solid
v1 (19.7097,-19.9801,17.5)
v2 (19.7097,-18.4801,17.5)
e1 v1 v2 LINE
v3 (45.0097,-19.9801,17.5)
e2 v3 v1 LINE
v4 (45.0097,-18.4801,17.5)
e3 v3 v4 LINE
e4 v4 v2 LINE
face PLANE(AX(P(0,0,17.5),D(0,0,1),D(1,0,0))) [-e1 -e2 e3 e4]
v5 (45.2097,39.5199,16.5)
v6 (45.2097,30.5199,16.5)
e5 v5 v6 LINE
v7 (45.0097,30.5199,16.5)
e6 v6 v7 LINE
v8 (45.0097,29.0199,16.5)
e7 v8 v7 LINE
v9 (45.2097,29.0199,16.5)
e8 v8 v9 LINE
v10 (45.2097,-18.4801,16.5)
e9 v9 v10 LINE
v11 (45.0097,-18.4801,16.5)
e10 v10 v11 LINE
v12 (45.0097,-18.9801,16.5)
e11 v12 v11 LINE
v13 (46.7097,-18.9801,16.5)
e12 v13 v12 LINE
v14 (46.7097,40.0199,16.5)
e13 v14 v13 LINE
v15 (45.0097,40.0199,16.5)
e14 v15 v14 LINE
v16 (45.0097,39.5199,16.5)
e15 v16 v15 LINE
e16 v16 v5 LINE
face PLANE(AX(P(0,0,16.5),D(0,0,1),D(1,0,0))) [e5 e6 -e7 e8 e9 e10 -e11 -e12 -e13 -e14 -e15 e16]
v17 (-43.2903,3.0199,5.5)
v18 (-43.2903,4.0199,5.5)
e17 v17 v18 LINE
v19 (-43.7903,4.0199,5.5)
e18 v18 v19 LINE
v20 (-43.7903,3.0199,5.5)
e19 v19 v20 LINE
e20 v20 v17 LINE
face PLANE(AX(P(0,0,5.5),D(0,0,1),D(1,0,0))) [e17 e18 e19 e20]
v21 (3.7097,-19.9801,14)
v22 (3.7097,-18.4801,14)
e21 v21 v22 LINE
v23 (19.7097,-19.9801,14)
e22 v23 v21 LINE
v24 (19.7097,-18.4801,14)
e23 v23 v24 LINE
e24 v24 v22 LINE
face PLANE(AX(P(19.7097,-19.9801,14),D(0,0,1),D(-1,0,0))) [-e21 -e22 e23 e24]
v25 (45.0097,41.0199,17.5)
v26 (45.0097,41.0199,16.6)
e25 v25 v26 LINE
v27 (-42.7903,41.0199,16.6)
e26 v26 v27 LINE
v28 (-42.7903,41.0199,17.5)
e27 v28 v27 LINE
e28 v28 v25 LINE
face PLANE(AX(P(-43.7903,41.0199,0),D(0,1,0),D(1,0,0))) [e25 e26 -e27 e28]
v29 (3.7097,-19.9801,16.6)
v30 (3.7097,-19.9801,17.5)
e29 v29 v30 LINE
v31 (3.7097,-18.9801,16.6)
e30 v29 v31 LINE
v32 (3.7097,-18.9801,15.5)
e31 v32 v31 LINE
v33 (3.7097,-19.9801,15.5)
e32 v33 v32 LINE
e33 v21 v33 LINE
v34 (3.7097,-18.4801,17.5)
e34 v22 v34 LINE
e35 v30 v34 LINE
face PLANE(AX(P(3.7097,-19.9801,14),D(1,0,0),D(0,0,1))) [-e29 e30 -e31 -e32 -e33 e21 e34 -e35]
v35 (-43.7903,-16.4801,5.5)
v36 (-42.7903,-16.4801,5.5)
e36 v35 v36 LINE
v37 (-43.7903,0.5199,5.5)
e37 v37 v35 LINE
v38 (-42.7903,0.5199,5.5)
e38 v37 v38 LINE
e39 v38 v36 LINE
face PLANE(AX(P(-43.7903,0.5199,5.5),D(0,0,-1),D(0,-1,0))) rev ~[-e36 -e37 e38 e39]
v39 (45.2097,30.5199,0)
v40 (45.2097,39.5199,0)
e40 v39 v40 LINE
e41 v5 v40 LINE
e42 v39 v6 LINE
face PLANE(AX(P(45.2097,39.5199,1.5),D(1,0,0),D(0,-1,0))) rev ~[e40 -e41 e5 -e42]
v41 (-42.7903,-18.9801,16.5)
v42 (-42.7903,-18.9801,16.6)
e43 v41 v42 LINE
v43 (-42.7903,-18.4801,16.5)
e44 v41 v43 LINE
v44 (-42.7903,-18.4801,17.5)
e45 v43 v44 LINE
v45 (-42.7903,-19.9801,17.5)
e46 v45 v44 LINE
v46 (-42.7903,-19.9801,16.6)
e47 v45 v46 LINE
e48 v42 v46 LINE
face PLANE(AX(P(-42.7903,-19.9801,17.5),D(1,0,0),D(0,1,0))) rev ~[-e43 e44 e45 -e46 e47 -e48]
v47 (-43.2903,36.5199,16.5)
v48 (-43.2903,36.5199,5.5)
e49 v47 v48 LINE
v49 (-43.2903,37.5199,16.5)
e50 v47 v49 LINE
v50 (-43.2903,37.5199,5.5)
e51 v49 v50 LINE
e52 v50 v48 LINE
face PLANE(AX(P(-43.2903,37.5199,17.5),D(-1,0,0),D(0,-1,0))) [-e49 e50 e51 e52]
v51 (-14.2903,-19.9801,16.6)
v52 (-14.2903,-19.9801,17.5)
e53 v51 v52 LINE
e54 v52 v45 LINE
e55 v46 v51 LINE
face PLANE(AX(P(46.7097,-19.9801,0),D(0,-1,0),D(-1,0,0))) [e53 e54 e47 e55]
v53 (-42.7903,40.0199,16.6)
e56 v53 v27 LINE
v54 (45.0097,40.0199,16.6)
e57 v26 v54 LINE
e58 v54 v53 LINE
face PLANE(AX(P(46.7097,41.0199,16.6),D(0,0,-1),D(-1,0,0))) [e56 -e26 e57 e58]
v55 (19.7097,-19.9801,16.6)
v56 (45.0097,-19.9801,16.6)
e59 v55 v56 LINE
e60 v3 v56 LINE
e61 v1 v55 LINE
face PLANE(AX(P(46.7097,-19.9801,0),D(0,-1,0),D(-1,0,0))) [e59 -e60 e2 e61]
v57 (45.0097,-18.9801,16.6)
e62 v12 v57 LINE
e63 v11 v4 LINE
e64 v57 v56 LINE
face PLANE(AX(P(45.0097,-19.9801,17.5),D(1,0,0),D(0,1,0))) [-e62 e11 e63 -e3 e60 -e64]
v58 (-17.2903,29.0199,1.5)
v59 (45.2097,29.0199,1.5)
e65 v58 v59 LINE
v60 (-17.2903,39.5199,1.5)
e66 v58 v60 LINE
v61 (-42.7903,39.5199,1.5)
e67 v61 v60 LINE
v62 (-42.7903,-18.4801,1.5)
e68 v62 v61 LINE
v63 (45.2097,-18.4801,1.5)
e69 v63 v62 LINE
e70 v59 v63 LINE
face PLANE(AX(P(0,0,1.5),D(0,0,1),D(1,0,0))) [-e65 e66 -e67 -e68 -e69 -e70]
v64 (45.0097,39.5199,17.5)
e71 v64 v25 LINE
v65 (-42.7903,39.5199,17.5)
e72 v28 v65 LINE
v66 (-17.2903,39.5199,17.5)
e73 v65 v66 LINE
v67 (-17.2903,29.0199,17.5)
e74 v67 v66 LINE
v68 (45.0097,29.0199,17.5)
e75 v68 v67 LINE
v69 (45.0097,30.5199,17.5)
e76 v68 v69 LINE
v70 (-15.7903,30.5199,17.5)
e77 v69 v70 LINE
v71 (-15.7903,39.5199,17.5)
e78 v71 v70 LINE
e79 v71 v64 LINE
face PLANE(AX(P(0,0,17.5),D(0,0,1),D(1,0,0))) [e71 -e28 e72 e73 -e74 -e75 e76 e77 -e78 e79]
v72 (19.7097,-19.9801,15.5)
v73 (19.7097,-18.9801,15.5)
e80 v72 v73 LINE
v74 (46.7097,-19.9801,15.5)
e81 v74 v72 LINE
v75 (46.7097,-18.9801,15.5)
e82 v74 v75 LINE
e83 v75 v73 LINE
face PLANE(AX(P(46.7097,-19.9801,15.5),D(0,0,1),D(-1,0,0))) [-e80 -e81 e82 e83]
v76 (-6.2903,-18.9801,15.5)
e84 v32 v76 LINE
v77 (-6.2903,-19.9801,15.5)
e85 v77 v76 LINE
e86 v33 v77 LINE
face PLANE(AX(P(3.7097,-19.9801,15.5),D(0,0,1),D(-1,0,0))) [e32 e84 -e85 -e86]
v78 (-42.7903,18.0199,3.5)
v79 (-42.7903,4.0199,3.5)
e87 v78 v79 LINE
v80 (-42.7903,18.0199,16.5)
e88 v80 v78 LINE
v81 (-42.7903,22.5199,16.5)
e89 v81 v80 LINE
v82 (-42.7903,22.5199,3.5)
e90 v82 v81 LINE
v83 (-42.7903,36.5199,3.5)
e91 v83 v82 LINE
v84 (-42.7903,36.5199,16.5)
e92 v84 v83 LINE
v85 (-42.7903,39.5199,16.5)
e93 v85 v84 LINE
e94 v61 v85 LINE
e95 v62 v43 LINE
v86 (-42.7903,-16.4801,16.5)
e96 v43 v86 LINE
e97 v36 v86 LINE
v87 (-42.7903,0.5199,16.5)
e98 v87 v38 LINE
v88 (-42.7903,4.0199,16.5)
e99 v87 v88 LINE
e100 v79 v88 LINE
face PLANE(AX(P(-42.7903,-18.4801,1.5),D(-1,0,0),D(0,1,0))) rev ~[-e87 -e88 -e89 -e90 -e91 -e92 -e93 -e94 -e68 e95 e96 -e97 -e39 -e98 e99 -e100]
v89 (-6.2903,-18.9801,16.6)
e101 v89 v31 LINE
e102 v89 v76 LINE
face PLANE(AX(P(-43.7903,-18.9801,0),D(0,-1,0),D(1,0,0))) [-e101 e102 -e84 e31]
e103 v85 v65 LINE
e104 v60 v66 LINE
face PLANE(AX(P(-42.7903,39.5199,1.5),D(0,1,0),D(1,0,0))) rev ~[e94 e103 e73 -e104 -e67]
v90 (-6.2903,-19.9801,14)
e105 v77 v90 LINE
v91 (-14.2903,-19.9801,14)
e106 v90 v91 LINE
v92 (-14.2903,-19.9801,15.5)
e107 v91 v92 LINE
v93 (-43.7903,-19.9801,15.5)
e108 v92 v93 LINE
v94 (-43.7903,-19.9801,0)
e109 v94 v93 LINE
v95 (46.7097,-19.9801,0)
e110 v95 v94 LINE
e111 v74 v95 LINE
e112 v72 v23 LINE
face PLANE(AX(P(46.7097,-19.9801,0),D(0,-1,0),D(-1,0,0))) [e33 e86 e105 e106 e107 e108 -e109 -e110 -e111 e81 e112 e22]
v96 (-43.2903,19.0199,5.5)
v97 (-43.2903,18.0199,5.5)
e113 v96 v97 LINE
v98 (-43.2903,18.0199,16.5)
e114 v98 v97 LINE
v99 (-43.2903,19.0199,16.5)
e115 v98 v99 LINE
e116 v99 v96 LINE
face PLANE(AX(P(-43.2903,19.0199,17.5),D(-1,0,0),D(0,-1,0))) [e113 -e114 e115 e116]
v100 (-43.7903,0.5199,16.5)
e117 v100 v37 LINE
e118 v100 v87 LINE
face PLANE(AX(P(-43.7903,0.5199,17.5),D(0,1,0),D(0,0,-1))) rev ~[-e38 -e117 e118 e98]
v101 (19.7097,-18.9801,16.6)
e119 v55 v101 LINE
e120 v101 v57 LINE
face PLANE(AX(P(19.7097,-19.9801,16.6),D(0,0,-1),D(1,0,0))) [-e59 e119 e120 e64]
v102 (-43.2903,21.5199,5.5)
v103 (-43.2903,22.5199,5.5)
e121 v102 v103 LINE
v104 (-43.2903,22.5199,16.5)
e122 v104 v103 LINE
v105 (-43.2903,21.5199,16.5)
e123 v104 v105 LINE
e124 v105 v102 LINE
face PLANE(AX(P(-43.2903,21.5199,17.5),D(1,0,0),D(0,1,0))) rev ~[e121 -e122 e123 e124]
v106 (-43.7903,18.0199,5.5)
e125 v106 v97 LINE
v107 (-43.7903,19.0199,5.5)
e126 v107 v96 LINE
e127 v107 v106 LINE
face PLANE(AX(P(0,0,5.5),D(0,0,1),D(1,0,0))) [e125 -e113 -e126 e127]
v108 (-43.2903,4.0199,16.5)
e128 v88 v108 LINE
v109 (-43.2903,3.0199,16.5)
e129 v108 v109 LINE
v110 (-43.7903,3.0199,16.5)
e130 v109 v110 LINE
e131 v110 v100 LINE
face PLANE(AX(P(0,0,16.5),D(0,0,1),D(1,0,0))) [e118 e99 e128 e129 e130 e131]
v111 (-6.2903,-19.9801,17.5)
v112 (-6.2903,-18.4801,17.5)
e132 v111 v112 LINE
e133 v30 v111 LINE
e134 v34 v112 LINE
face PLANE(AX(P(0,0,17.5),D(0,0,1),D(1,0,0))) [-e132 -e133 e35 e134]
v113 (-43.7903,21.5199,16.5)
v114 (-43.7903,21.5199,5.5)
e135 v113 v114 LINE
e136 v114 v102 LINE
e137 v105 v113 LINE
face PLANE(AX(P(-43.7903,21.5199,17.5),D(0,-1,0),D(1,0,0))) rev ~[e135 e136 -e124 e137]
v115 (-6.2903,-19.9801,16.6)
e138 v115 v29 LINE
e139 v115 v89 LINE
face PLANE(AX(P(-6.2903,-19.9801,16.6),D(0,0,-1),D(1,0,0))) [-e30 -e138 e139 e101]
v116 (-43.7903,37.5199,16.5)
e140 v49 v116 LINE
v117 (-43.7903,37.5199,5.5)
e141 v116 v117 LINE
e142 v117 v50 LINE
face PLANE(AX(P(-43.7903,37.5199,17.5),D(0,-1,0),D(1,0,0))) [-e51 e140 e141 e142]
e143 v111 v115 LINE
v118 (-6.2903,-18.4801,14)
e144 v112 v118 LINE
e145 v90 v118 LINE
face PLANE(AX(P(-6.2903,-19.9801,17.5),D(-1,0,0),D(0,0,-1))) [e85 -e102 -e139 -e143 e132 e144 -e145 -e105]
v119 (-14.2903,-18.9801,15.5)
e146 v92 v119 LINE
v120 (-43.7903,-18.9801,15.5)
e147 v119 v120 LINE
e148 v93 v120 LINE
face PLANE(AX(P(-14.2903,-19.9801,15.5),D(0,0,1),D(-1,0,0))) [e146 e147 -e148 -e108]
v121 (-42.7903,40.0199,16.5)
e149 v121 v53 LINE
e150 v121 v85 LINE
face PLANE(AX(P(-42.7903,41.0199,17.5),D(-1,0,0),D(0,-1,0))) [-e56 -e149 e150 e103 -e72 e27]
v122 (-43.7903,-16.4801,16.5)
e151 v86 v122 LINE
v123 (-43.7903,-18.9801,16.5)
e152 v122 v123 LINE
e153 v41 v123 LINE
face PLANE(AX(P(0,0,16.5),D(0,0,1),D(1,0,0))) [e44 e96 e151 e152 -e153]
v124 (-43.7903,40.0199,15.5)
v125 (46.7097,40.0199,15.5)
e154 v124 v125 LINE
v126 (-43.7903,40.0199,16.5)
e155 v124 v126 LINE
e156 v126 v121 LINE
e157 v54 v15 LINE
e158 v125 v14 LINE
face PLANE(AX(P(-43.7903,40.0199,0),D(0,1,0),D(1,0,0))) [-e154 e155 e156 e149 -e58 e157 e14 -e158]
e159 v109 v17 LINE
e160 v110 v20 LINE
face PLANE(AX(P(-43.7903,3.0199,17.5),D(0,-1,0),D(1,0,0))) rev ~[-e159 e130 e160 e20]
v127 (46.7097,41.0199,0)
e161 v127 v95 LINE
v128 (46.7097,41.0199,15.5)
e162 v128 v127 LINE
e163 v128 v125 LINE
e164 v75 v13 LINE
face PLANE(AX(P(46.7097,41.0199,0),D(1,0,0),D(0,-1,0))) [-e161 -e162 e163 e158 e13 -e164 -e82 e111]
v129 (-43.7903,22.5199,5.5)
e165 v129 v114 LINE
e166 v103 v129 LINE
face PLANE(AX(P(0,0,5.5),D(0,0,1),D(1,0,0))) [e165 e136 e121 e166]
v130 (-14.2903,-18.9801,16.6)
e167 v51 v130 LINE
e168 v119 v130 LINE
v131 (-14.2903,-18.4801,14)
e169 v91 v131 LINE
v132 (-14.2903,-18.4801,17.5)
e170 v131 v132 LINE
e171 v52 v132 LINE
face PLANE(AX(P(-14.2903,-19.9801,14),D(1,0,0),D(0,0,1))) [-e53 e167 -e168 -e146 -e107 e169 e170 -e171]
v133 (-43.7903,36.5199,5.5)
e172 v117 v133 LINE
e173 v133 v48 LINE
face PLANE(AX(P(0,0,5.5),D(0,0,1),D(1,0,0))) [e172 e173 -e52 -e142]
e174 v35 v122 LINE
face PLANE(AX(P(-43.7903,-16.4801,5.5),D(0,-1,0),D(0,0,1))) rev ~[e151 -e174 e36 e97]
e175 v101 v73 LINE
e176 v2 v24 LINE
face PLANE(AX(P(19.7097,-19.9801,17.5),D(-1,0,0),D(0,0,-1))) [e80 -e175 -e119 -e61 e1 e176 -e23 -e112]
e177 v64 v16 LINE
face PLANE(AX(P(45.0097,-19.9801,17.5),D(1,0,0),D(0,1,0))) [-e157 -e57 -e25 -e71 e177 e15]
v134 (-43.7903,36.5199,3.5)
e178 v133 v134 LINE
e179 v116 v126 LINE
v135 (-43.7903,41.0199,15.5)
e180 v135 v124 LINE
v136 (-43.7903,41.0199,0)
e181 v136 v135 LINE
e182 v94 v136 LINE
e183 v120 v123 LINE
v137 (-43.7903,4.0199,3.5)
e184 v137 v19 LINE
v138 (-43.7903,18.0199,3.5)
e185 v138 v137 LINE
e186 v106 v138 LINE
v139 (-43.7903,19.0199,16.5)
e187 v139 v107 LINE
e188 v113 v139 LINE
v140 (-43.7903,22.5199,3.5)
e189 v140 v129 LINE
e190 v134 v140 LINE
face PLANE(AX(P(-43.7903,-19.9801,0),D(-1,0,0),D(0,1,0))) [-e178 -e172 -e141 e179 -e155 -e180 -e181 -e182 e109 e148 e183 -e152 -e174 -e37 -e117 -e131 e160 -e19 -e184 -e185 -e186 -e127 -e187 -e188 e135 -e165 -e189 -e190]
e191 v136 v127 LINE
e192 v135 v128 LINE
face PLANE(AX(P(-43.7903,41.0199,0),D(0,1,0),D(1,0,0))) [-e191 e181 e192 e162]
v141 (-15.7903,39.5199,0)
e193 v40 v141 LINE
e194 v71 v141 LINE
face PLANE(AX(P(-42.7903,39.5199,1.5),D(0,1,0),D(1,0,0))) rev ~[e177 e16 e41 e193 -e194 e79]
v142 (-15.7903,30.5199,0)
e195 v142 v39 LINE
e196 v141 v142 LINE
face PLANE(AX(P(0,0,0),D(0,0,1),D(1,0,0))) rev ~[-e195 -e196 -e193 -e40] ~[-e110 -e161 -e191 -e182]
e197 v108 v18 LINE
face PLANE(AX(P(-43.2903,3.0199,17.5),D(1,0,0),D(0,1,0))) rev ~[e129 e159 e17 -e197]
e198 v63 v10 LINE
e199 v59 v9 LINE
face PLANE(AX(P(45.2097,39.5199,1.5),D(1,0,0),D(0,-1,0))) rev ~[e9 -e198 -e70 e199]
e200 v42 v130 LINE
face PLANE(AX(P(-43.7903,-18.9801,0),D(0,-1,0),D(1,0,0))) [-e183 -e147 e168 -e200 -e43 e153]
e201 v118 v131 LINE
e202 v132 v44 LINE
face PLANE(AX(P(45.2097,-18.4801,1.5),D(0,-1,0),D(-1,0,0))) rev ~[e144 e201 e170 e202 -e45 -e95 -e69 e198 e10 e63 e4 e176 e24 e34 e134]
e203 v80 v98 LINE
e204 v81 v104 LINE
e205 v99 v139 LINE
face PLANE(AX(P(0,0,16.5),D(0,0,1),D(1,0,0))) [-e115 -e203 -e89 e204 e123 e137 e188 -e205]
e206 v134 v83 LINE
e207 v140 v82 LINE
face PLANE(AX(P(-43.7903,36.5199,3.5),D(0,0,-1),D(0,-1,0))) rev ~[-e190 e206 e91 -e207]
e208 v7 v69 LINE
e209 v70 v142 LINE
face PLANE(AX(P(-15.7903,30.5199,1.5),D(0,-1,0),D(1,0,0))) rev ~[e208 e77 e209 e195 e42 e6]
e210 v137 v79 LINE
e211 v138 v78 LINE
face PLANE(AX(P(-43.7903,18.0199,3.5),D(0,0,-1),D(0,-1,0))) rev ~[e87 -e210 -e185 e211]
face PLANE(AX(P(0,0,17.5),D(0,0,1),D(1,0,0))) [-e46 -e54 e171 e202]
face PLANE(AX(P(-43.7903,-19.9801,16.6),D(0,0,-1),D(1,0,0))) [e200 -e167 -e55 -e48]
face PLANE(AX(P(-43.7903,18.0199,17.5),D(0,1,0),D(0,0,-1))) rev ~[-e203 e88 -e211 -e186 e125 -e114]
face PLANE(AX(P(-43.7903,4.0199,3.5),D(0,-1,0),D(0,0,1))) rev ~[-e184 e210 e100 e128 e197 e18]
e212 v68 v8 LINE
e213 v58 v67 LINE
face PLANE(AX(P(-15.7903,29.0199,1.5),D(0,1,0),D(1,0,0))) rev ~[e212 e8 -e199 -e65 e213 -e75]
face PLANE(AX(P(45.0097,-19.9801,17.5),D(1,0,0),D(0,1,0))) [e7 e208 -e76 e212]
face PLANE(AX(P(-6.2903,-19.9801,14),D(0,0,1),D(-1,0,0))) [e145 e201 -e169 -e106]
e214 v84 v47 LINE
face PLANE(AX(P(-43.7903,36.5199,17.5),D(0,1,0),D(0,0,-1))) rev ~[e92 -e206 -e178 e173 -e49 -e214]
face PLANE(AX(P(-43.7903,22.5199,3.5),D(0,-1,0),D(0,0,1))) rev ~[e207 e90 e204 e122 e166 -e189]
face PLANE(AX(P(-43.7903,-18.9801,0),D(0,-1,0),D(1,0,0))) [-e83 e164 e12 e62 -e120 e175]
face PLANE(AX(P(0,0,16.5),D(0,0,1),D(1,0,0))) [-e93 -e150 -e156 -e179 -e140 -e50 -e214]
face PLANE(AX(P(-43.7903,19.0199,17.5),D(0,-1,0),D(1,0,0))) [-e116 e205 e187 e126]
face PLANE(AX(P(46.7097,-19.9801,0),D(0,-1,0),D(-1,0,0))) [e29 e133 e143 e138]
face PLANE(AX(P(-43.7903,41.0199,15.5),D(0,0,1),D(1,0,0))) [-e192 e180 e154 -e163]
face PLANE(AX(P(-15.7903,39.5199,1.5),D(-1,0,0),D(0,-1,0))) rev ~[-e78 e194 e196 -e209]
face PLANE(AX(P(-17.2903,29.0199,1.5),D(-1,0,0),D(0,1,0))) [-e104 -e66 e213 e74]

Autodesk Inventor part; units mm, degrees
ref_plane "YZ Plane" through (0, 0, 0) normal (1, 0, 0) x (0, 1, 0)
ref_plane "XZ Plane" through (0, 0, 0) normal (0, 1, 0) x (-1, 0, 0)
ref_plane "XY Plane" through (0, 0, 0) normal (0, 0, 1) x (1, 0, 0)
sketch "Sketch1" plane through (0, 0, 0) normal (0, 0, 1) x (1, 0, 0)
  line L0 (-43.7903, 41.0199) -> (46.7097, 41.0199)
  line L1 (46.7097, 41.0199) -> (46.7097, -19.9801)
  line L2 (46.7097, -19.9801) -> (-43.7903, -19.9801)
  line L3 (-43.7903, -19.9801) -> (-43.7903, 41.0199)
  point P0 (0, 0)
  dimension "d0" = 90.5
  dimension "d1" = 61
extrude "Extrusion1" add sketch "Sketch1" along normal blind 1.5
sketch "Sketch2" plane through (0, 0, 1.5) normal (0, 0, 1) x (1, 0, 0)
  line L0 (-42.7903, 39.5199) -> (45.2097, 39.5199)
  line L1 (45.2097, 39.5199) -> (45.2097, -18.4801)
  line L2 (45.2097, -18.4801) -> (-42.7903, -18.4801)
  line L3 (-42.7903, -18.4801) -> (-42.7903, 39.5199)
  line L4 (-43.7903, 41.0199) -> (46.7097, 41.0199)
  line L5 (46.7097, 41.0199) -> (46.7097, -19.9801)
  line L6 (46.7097, -19.9801) -> (-43.7903, -19.9801)
  line L7 (-43.7903, -19.9801) -> (-43.7903, 41.0199)
  point P0 (0, 0)
  dimension "d4" = 1.5
  dimension "d5" = 1.5
  dimension "d6" = 1.5
  dimension "d7" = 1
extrude "Extrusion2" add sketch "Sketch2" along normal blind 16
sketch "Sketch3" plane through (-43.7903, -19.9801, 0) normal (-1, 0, 0) x (0, 0, 1)
  line L0 (17.5, 1.5) -> (17.5, 59.5) projected
  line L1 (17.5, 20.5) -> (5.5, 20.5)
  line L2 (5.5, 20.5) -> (5.5, 3.5)
  line L3 (5.5, 3.5) -> (17.5, 3.5)
  line L4 (17.5, 3.5) -> (17.5, 20.5)
  line L5 (17.5, 38) -> (3.5, 38)
  line L6 (3.5, 38) -> (3.5, 24)
  line L7 (3.5, 24) -> (17.5, 24)
  line L8 (17.5, 24) -> (17.5, 38)
  line L9 (17.5, 56.5) -> (3.5, 56.5)
  line L10 (3.5, 56.5) -> (3.5, 42.5)
  line L11 (3.5, 42.5) -> (17.5, 42.5)
  line L12 (17.5, 42.5) -> (17.5, 56.5)
  line L13 (0, 0) -> (17.5, 0) projected
  point P0 (0, 19.9801)
  dimension "d10" = 3.5
  dimension "d11" = 12
  dimension "d12" = 17
  dimension "d13" = 3.5
  dimension "d14" = 14
  dimension "d15" = 14
  dimension "d16" = 14
  dimension "d17" = 4.5
  dimension "d18" = 14
extrude "Extrusion3" cut sketch "Sketch3" against normal blind 1
sketch "Sketch4" plane through (0, 0, 1.5) normal (0, 0, 1) x (1, 0, 0)
  line L0 (45.2097, 39.5199) -> (-15.7903, 39.5199)
  line L1 (-15.7903, 39.5199) -> (-15.7903, 30.5199)
  line L2 (-15.7903, 30.5199) -> (45.2097, 30.5199)
  line L3 (45.2097, 30.5199) -> (45.2097, 39.5199)
  point P0 (0, 0)
  dimension "d21" = 61
  dimension "d22" = 9
extrude "Extrusion4" cut sketch "Sketch4" against normal blind 1.5
sketch "Sketch5" plane through (0, 0, 1.5) normal (0, 0, 1) x (1, 0, 0)
  line L0 (45.2097, 30.5199) -> (-15.7903, 30.5199)
  line L1 (-15.7903, 30.5199) -> (-15.7903, 29.0199)
  line L2 (-15.7903, 29.0199) -> (45.2097, 29.0199)
  line L3 (45.2097, 29.0199) -> (45.2097, 30.5199)
  line L4 (-42.7903, 39.5199) -> (45.2097, 39.5199) projected
  line L5 (-15.7903, 29.0199) -> (-17.2903, 29.0199)
  line L6 (-17.2903, 29.0199) -> (-17.2903, 39.5199)
  line L7 (-17.2903, 39.5199) -> (-15.7903, 39.5199)
  line L8 (-15.7903, 39.5199) -> (-15.7903, 29.0199)
  line L9 (46.7097, 41.0199) -> (46.7097, -19.9801) projected
  line L10 (45.2097, -18.4801) -> (45.2097, 30.5199) projected
  point P0 (0, 0)
  dimension "d25" = 1.5
  dimension "d26" = 1.5
  dimension "d28" = 61
  dimension "d29" = 9
extrude "Extrusion5" add sketch "Sketch5" along normal blind 16
sketch "Sketch6" plane through (0, 0, 17.5) normal (0, 0, 1) x (1, 0, 0)
  line L0 (-43.7903, 0.5199) -> (-42.7903, 0.5199) projected
  line L1 (-42.7903, 4.0199) -> (-43.7903, 4.0199) projected
  line L2 (-42.7903, 0.5199) -> (-42.7903, 4.0199) projected
  line L3 (-43.7903, 4.0199) -> (-43.7903, 0.5199) projected
  line L4 (-43.7903, -19.9801) -> (-43.7903, 41.0199) projected
  line L5 (-43.2903, 4.0199) -> (-43.7903, 4.0199)
  line L6 (-43.7903, 4.0199) -> (-43.7903, 3.0199)
  line L7 (-43.7903, 3.0199) -> (-43.2903, 3.0199)
  line L8 (-43.2903, 3.0199) -> (-43.2903, 4.0199)
  point P0 (0, 0)
  dimension "d32" = 3.5
  dimension "d33" = 1
  dimension "d34" = 0.5
  dimension "d35" = 1
extrude "Extrusion6" cut sketch "Sketch6" against normal blind 12 contours L3 L1 L8 L7
sketch "Sketch7" plane through (0, 0, 17.5) normal (0, 0, 1) x (1, 0, 0)
  line L0 (-43.7903, 18.0199) -> (-42.7903, 18.0199) projected
  line L1 (-43.7903, 22.5199) -> (-43.7903, 18.0199) projected
  line L2 (-43.2903, 18.0199) -> (-43.7903, 18.0199)
  line L3 (-43.7903, 18.0199) -> (-43.7903, 19.0199)
  line L4 (-43.7903, 19.0199) -> (-43.2903, 19.0199)
  line L5 (-43.2903, 19.0199) -> (-43.2903, 18.0199)
  point P0 (0, 0)
  dimension "d38" = 1
extrude "Extrusion7" cut sketch "Sketch7" against normal blind 12
sketch "Sketch8" plane through (0, 0, 17.5) normal (0, 0, 1) x (1, 0, 0)
  line L0 (-43.7903, 22.5199) -> (-43.7903, 19.0199) projected
  line L1 (-43.2903, 22.5199) -> (-43.7903, 22.5199)
  line L2 (-43.7903, 22.5199) -> (-43.7903, 21.5199)
  line L3 (-43.7903, 21.5199) -> (-43.2903, 21.5199)
  line L4 (-43.2903, 21.5199) -> (-43.2903, 22.5199)
  line L5 (-42.7903, 22.5199) -> (-43.7903, 22.5199) projected
  point P0 (0, 0)
  dimension "d41" = 0.5
  dimension "d42" = 1
  dimension "d43" = 1
extrude "Extrusion8" cut sketch "Sketch8" against normal blind 12
sketch "Sketch9" plane through (0, 0, 17.5) normal (0, 0, 1) x (1, 0, 0)
  line L0 (-43.7903, 36.5199) -> (-42.7903, 36.5199) projected
  line L1 (-43.7903, 41.0199) -> (-43.7903, 36.5199) projected
  line L2 (-43.2903, 36.5199) -> (-43.7903, 36.5199)
  line L3 (-43.7903, 36.5199) -> (-43.7903, 37.5199)
  line L4 (-43.7903, 37.5199) -> (-43.2903, 37.5199)
  line L5 (-43.2903, 37.5199) -> (-43.2903, 36.5199)
  point P0 (0, 0)
  dimension "d46" = 1
  dimension "d47" = 0.5
extrude "Extrusion9" cut sketch "Sketch9" against normal blind 12
sketch "Sketch10" plane through (-43.7903, -19.9801, 0) normal (0, -1, 0) x (1, 0, 0)
  line L0 (29.5, 17.5) -> (37.5, 17.5)
  line L1 (37.5, 17.5) -> (37.5, 14)
  line L2 (37.5, 14) -> (29.5, 14)
  line L3 (29.5, 14) -> (29.5, 17.5)
  line L4 (0, 0) -> (0, 17.5) projected
  line L5 (47.5, 17.5) -> (63.5, 17.5)
  line L6 (63.5, 17.5) -> (63.5, 14)
  line L7 (63.5, 14) -> (47.5, 14)
  line L8 (47.5, 14) -> (47.5, 17.5)
  line L9 (90.5, 0) -> (90.5, 17.5) projected
  point P0 (43.7903, 0)
  dimension "d50" = 29.5
  dimension "d51" = 8
  dimension "d53" = 16
  dimension "d57" = 10
extrude "Extrusion10" cut sketch "Sketch10" against normal blind 1.5
sketch "Sketch11" plane through (-43.7903, -19.9801, 0) normal (0, -1, 0) x (1, 0, 0)
  line L0 (63.5, 17.5) -> (63.5, 14) projected
  line L1 (90.5, 0) -> (90.5, 17.5) projected
  line L2 (63.5, 16.6) -> (90.5, 16.6)
  line L3 (90.5, 16.6) -> (90.5, 15.5)
  line L4 (90.5, 15.5) -> (63.5, 15.5)
  line L5 (63.5, 15.5) -> (63.5, 16.6)
  line L6 (37.5, 17.5) -> (37.5, 14) projected
  line L7 (47.5, 14) -> (47.5, 17.5) projected
  line L8 (37.5, 16.6) -> (47.5, 16.6)
  line L9 (47.5, 16.6) -> (47.5, 15.5)
  line L10 (47.5, 15.5) -> (37.5, 15.5)
  line L11 (37.5, 15.5) -> (37.5, 16.6)
  line L12 (0, 0) -> (0, 17.5) projected
  line L13 (29.5, 14) -> (29.5, 17.5) projected
  line L14 (0, 16.6) -> (29.5, 16.6)
  line L15 (29.5, 16.6) -> (29.5, 15.5)
  line L16 (29.5, 15.5) -> (0, 15.5)
  line L17 (0, 15.5) -> (0, 16.6)
  line L18 (63.5, 17.5) -> (90.5, 17.5) projected
  line L19 (37.5, 17.5) -> (47.5, 17.5) projected
  line L20 (0, 17.5) -> (29.5, 17.5) projected
  point P0 (43.7903, 0)
  dimension "d61" = 1.1
  dimension "d62" = 0.9
  dimension "d63" = 1.1
  dimension "d64" = 0.9
  dimension "d65" = 1.1
  dimension "d66" = 0.9
extrude "Extrusion11" cut sketch "Sketch11" against normal blind 1 contours L2 L1 L4 L0 | L8 L7 L10 L6 | L12 L14 L13 L16
sketch "Sketch12" plane through (-43.7903, 41.0199, 0) normal (0, 1, 0) x (1, 0, 0)
  line L0 (90.5, 0) -> (90.5, -17.5) projected
  line L1 (0, 0) -> (0, -17.5) projected
  line L2 (90.5, -16.6) -> (0, -16.6)
  line L3 (0, -16.6) -> (0, -15.5)
  line L4 (0, -15.5) -> (90.5, -15.5)
  line L5 (90.5, -15.5) -> (90.5, -16.6)
  line L6 (90.5, -17.5) -> (0, -17.5) projected
  point P0 (43.7903, 0)
  dimension "d69" = 1.1
  dimension "d70" = 0.9
extrude "Extrusion12" cut sketch "Sketch12" against normal blind 1 contours L0 L2 L1 L4
sketch "Sketch13" plane through (0, 0, 17.5) normal (0, 0, 1) x (1, 0, 0)
  line L0 (-42.7903, -16.4801) -> (-43.7903, -16.4801)
  line L1 (-43.7903, -16.4801) -> (-43.7903, -19.9801)
  line L2 (-43.7903, -19.9801) -> (-42.7903, -19.9801)
  line L3 (-42.7903, -19.9801) -> (-42.7903, -16.4801)
  point P0 (0, 0)
extrude "Extrusion13" cut sketch "Sketch13" against normal blind 1
sketch "Sketch14" plane through (0, 0, 17.5) normal (0, 0, 1) x (1, 0, 0)
  line L0 (-42.7903, 4.0199) -> (-43.7903, 4.0199)
  line L1 (-43.7903, 4.0199) -> (-43.7903, 0.5199)
  line L2 (-43.7903, 0.5199) -> (-42.7903, 0.5199)
  line L3 (-42.7903, 0.5199) -> (-42.7903, 4.0199)
  point P0 (0, 0)
extrude "Extrusion14" cut sketch "Sketch14" against normal blind 1
sketch "Sketch15" plane through (0, 0, 17.5) normal (0, 0, 1) x (1, 0, 0)
  line L0 (-43.7903, 21.5199) -> (-43.7903, 19.0199) projected
  line L1 (-42.7903, 22.5199) -> (-43.7903, 22.5199)
  line L2 (-43.7903, 22.5199) -> (-43.7903, 20.2699)
  line L3 (-43.7903, 20.2699) -> (-42.7903, 20.2699)
  line L4 (-42.7903, 20.2699) -> (-42.7903, 22.5199)
  line L5 (-42.7903, 18.0199) -> (-43.7903, 18.0199)
  line L6 (-43.7903, 18.0199) -> (-43.7903, 20.2699)
  line L7 (-43.7903, 20.2699) -> (-42.7903, 20.2699)
  line L8 (-42.7903, 20.2699) -> (-42.7903, 18.0199)
  point P0 (0, 0)
extrude "Extrusion15" cut sketch "Sketch15" against normal blind 1
sketch "Sketch16" plane through (0, 0, 17.5) normal (0, 0, 1) x (1, 0, 0)
  line L0 (-43.7903, 41.0199) -> (-42.7903, 41.0199)
  line L1 (-42.7903, 41.0199) -> (-42.7903, 36.5199)
  line L2 (-42.7903, 36.5199) -> (-43.7903, 36.5199)
  line L3 (-43.7903, 36.5199) -> (-43.7903, 41.0199)
  point P0 (0, 0)
extrude "Extrusion16" cut sketch "Sketch16" against normal blind 1
sketch "Sketch17" plane through (0, 0, 17.5) normal (0, 0, 1) x (1, 0, 0)
  line L0 (46.7097, -19.9801) -> (45.0097, -19.9801)
  line L1 (45.0097, -19.9801) -> (45.0097, 41.0199)
  line L2 (45.0097, 41.0199) -> (46.7097, 41.0199)
  line L3 (46.7097, 41.0199) -> (46.7097, -19.9801)
  point P0 (0, 0)
  dimension "d81" = 61
  dimension "d84" = 1.7
extrude "Extrusion17" cut sketch "Sketch17" against normal blind 1
properties part number "raspi_enclosure2"
